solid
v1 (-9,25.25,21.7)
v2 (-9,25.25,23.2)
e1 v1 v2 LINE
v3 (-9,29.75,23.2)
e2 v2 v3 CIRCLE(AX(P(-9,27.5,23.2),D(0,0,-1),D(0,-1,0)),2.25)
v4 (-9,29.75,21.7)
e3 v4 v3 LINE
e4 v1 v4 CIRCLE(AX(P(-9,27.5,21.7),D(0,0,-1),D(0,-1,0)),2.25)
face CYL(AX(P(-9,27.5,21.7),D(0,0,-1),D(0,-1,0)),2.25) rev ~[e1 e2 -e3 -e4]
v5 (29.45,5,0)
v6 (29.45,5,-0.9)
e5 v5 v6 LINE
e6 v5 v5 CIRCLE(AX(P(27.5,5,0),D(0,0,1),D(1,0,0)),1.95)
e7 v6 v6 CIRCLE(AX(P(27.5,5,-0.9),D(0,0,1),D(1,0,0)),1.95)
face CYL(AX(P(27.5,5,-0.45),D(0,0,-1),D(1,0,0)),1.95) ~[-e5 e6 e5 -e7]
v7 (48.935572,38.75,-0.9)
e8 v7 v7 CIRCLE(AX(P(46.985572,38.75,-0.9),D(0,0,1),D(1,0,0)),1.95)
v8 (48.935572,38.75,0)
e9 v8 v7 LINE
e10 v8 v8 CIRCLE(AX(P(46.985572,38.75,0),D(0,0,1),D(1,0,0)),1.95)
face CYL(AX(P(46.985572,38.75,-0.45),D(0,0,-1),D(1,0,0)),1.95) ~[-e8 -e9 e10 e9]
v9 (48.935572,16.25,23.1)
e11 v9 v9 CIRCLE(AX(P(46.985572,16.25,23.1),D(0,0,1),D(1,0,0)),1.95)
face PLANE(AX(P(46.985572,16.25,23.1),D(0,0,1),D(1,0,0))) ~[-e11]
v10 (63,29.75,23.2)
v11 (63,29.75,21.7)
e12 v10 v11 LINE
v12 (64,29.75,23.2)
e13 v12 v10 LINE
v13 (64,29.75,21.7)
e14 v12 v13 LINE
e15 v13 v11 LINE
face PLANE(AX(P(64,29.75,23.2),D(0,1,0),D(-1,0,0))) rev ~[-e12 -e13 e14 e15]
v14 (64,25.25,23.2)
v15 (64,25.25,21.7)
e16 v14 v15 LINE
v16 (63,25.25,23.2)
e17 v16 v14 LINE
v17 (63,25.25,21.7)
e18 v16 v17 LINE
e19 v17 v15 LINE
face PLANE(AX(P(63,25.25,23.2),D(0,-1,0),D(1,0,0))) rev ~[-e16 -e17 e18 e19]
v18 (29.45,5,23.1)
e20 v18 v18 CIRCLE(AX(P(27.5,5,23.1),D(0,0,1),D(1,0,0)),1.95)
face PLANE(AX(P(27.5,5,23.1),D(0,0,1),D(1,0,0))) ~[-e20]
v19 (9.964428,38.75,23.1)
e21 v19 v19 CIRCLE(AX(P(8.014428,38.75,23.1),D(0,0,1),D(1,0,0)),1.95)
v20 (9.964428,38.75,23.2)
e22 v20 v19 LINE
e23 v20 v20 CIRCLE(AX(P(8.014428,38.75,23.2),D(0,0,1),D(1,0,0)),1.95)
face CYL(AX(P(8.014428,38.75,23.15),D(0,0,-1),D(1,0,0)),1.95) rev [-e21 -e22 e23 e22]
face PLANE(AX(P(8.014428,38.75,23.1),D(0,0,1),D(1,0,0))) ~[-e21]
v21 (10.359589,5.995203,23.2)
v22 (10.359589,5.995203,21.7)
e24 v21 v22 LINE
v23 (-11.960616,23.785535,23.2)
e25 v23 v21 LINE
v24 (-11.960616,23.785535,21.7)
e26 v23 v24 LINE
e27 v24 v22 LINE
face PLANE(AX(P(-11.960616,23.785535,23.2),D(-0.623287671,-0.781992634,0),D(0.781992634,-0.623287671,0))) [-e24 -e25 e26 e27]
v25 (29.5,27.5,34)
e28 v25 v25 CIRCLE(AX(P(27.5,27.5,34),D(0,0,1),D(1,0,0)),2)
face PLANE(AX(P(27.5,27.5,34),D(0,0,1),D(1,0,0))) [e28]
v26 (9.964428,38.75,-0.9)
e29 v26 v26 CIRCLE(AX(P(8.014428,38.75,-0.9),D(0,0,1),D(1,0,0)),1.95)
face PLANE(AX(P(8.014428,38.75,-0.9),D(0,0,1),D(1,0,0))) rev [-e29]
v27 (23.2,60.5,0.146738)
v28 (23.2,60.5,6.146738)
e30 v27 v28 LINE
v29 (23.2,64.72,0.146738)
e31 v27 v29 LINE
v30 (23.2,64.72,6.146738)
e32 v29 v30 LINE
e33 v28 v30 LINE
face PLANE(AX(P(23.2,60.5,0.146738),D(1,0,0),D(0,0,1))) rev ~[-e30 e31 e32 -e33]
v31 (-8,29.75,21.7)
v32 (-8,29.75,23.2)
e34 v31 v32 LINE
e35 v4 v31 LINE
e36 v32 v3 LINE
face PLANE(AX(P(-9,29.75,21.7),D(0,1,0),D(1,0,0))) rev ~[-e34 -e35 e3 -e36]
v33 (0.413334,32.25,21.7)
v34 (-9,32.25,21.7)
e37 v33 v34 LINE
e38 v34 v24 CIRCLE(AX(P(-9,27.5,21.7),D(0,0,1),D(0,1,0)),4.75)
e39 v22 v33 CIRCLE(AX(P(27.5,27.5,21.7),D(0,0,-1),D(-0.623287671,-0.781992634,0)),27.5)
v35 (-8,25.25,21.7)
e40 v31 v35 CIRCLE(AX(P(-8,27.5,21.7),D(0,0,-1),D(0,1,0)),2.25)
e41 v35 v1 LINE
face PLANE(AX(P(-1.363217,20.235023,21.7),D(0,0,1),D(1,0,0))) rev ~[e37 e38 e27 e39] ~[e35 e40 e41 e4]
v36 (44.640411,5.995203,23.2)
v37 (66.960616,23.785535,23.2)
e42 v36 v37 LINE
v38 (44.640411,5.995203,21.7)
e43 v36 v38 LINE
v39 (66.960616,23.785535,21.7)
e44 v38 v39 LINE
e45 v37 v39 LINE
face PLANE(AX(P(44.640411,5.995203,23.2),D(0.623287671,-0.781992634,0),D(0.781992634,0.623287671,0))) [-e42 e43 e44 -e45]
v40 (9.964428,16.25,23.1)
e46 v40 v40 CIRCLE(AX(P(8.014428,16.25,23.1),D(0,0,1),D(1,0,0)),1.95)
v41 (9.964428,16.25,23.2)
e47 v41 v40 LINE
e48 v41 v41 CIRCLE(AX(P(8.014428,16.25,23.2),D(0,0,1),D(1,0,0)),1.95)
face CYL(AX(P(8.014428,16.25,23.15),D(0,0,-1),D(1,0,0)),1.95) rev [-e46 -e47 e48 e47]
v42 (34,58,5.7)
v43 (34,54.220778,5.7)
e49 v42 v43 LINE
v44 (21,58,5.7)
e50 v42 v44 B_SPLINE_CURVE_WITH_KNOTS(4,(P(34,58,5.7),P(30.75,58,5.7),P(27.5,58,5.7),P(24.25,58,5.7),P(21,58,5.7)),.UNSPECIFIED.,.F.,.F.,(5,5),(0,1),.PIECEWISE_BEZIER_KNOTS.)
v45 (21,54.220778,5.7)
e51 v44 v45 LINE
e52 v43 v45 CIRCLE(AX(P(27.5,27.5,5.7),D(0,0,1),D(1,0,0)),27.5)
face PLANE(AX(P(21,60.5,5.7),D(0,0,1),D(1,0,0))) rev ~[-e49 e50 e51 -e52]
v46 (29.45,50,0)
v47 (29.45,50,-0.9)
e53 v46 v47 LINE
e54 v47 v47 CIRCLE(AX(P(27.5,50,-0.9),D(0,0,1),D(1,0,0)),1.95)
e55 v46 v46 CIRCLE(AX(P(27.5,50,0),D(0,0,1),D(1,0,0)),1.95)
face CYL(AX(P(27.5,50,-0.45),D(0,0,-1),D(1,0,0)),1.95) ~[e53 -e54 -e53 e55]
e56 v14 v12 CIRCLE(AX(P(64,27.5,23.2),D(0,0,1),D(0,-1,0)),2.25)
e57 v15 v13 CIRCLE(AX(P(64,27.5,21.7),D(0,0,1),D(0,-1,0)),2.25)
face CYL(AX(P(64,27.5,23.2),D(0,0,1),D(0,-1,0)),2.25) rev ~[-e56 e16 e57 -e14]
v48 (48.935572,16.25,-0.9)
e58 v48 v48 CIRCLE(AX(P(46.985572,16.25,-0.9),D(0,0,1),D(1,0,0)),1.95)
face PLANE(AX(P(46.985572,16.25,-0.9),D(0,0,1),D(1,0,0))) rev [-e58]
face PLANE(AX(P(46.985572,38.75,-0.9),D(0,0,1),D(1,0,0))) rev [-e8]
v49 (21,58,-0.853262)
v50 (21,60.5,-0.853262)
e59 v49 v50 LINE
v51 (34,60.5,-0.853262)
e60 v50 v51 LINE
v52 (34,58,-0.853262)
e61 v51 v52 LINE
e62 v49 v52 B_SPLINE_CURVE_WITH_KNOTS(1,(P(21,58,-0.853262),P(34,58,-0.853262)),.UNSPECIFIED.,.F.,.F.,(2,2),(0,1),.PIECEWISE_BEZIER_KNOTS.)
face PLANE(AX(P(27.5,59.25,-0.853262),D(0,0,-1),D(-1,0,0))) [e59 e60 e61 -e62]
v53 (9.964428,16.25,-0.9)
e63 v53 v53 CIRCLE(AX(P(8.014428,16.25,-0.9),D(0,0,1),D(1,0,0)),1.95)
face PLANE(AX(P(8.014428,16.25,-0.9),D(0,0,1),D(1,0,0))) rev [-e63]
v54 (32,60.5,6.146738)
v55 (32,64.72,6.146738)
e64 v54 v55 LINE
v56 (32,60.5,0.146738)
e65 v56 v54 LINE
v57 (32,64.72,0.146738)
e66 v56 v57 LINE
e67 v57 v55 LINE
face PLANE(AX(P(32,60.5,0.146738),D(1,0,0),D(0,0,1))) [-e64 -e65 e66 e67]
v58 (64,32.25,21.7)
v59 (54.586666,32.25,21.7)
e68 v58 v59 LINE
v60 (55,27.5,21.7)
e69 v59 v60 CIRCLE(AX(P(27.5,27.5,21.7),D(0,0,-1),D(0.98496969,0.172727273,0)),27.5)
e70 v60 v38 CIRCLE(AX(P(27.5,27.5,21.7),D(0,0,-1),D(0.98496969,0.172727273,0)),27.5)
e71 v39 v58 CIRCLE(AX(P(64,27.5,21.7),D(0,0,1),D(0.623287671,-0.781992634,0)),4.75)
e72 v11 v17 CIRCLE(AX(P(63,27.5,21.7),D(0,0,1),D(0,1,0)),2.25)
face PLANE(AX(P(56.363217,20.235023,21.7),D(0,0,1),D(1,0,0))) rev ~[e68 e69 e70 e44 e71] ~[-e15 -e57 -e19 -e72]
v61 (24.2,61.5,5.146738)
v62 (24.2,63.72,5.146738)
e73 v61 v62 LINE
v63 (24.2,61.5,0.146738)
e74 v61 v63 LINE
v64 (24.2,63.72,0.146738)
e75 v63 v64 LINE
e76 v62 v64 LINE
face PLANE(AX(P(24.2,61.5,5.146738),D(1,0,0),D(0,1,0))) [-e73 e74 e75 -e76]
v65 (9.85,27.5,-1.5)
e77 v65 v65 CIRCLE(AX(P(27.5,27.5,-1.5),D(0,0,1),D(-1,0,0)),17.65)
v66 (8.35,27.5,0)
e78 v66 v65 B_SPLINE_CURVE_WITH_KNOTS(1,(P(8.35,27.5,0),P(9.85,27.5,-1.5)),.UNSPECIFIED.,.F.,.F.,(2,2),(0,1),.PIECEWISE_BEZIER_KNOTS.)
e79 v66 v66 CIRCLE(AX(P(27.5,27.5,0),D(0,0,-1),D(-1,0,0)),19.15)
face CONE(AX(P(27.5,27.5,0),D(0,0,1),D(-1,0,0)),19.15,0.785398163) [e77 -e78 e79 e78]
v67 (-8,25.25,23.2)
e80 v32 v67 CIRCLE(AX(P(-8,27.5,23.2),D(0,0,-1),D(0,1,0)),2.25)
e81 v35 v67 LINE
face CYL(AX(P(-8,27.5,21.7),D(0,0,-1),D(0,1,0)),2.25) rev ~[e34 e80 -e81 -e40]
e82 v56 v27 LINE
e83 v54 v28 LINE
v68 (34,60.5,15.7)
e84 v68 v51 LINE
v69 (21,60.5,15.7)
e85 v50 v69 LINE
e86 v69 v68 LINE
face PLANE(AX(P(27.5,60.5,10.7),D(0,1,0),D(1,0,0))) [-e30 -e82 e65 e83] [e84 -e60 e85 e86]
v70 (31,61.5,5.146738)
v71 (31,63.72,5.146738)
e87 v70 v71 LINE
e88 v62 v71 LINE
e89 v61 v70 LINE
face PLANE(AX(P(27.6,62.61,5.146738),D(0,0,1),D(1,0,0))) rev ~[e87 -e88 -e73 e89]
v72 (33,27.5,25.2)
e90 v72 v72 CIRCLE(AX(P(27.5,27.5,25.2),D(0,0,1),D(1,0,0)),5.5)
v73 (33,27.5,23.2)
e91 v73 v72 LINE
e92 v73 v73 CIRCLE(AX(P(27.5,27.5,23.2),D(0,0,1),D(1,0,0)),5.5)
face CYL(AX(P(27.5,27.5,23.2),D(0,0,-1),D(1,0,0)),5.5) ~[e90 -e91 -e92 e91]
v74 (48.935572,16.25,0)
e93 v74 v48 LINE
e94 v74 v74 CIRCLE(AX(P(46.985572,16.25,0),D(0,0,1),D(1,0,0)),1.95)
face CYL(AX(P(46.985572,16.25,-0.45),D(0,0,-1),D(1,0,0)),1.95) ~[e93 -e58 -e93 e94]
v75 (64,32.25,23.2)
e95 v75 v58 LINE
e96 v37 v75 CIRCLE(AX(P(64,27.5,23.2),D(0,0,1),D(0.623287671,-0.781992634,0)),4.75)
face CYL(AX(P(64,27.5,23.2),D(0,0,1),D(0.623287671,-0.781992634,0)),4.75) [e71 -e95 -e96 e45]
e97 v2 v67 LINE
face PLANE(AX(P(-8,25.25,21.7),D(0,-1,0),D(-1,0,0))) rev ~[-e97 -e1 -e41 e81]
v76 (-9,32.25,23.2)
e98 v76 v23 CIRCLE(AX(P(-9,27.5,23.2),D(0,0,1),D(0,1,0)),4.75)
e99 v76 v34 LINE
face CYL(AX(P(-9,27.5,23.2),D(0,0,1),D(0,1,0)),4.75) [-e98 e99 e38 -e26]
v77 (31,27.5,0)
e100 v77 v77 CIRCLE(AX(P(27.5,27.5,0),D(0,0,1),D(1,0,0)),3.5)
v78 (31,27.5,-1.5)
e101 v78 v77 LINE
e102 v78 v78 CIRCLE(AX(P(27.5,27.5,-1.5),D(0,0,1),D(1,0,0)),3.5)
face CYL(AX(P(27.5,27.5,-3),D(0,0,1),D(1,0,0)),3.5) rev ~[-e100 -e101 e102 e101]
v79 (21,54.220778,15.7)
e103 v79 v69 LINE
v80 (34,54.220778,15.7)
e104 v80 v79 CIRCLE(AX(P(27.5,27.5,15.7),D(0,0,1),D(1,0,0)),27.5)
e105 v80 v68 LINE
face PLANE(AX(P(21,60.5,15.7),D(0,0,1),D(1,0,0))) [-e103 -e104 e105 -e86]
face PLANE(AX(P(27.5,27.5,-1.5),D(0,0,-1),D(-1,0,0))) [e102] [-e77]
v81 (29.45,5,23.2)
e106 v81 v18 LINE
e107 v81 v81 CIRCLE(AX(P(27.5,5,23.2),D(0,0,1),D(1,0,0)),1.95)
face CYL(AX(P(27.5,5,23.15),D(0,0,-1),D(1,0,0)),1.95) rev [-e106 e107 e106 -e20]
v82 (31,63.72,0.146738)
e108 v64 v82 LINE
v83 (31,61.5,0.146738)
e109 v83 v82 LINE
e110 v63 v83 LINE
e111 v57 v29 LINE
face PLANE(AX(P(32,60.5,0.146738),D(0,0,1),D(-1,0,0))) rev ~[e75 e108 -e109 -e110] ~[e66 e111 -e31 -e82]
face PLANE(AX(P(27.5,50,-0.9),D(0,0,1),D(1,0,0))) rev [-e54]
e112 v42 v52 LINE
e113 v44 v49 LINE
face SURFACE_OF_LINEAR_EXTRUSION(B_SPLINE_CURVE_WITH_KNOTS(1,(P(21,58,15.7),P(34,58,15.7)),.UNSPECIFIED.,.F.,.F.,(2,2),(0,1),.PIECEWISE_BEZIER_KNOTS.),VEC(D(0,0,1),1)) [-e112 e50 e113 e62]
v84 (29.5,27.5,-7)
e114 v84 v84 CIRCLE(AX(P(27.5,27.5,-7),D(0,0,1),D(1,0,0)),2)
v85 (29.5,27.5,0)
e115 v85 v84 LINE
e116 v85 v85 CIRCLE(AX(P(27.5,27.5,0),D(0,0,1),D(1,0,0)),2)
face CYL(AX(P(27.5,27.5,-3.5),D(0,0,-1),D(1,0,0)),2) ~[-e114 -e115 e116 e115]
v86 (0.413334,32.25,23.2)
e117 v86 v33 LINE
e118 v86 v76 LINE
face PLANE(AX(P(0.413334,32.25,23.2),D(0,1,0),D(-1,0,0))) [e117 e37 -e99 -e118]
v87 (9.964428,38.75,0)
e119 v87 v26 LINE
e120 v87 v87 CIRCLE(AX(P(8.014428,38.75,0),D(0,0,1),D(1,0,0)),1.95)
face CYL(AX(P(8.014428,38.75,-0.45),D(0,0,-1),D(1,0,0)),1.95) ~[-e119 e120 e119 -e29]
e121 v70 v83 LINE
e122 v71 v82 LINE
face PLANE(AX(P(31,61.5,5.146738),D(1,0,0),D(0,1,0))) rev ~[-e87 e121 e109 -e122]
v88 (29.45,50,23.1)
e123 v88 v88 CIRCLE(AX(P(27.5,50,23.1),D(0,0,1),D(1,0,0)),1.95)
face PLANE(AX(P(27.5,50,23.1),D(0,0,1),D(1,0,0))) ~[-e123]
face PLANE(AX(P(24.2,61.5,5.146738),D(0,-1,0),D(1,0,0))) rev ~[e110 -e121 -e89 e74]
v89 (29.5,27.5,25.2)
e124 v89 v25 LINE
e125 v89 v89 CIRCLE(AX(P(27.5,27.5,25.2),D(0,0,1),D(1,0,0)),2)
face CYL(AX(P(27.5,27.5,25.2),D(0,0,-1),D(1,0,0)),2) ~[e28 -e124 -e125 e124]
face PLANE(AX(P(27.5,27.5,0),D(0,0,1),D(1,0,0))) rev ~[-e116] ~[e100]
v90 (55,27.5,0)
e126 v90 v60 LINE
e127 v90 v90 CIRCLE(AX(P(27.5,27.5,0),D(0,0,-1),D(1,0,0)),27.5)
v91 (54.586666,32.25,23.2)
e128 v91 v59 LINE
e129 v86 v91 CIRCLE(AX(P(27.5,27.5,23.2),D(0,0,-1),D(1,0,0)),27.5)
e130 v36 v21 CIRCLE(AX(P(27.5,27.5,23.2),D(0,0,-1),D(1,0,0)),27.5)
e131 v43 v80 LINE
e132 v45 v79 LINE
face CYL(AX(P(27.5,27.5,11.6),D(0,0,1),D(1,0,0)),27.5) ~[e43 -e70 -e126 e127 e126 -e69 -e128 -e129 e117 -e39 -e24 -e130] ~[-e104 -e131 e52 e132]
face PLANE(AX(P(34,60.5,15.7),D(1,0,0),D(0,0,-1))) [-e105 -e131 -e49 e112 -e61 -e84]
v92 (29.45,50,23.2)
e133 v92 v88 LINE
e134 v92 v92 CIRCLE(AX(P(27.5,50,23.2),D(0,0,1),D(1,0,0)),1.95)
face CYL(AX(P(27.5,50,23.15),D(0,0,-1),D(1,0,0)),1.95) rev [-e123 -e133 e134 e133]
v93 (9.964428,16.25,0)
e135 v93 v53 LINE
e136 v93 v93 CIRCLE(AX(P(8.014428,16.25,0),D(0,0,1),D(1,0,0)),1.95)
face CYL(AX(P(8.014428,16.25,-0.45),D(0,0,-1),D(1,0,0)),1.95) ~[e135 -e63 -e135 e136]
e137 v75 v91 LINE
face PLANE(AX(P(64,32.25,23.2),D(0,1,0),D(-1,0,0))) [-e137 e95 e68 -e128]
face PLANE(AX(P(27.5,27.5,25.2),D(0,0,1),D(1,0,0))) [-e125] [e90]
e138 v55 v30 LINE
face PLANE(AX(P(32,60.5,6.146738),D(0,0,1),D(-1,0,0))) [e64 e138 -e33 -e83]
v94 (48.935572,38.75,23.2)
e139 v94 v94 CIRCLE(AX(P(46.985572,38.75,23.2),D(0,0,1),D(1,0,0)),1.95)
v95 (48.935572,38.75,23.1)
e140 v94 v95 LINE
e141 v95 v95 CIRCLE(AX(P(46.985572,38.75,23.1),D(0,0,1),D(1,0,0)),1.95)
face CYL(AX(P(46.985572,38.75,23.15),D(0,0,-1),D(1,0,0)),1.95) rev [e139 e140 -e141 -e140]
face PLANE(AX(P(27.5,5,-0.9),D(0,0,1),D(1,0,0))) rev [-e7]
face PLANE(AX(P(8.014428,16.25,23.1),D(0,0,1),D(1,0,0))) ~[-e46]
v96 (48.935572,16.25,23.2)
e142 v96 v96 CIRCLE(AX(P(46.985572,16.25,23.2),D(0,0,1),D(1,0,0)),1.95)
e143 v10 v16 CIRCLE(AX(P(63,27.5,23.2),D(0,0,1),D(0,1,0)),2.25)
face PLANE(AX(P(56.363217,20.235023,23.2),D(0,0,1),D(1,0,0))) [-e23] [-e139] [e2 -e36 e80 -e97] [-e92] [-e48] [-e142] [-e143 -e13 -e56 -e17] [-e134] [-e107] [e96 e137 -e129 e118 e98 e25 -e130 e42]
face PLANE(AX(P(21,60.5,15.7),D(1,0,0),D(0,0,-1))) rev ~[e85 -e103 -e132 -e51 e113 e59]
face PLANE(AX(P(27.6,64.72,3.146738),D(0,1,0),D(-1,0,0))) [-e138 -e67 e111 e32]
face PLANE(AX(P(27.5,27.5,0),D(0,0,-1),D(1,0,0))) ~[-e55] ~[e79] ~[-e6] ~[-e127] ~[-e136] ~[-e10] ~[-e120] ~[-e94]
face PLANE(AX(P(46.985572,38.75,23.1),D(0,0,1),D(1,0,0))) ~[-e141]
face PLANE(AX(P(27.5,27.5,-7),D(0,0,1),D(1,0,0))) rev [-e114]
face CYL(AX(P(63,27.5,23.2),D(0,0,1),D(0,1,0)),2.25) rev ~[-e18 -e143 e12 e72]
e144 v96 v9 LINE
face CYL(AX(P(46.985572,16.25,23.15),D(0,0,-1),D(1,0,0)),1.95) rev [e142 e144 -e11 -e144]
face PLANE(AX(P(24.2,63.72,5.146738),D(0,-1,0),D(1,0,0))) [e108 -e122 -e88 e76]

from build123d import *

# Parameters (mm, degrees)
SKETCH1_W                    = 27.5
SKETCH1_H                    = 23.2
BOSS_EXTRUDE1_REACH          = 62.5
SKETCH2_W                    = 13
SKETCH2_H                    = 10
BOSS_EXTRUDE2_DEPTH          = 16.55326241
BOSS_EXTRUDE3_DEPTH          = 1.5
BOSS_EXTRUDE4_DEPTH          = 1.5
CUT_EXTRUDE1_DEPTH           = 25.05326251
CUT_EXTRUDE2_DEPTH           = 2.5
SKETCH8_R                    = 5.5
BOSS_EXTRUDE5_DEPTH          = 2
SKETCH9_R                    = 2
BOSS_EXTRUDE6_DEPTH          = 8.8
SKETCH10_W                   = 8.8
SKETCH10_H                   = 6
BOSS_EXTRUDE7_DEPTH          = 4.22
CUT_EXTRUDE3_START           = -1
SKETCH11_W                   = 6.8
SKETCH11_H                   = 2.22
CUT_EXTRUDE3_DEPTH           = 5
SKETCH12_R                   = 19.15
BOSS_EXTRUDE8_DEPTH          = 1.5
BOSS_EXTRUDE8_TAPER          = 45
F_7_0_7_DIAMETER_HOLE1_D     = 7
F_7_0_7_DIAMETER_HOLE1_DEPTH = 1.5
SKETCH15_W                   = 1.95
SKETCH15_H                   = 0.1
SKETCH16_W                   = 1.95
SKETCH16_H                   = 0.1
SKETCH17_W                   = 1.95
SKETCH17_H                   = 0.1
SKETCH18_W                   = 1.95
SKETCH18_H                   = 0.1
SKETCH19_W                   = 1.95
SKETCH19_H                   = 0.1
SKETCH20_W                   = 1.95
SKETCH20_H                   = 0.1
SKETCH21_W                   = 2
SKETCH21_H                   = 7
SKETCH22_W                   = 1.95
SKETCH22_H                   = 0.9
SKETCH23_W                   = 1.95
SKETCH23_H                   = 0.9
SKETCH24_W                   = 1.95
SKETCH24_H                   = 0.9
SKETCH25_W                   = 1.95
SKETCH25_H                   = 0.9
SKETCH26_W                   = 1.95
SKETCH26_H                   = 0.9
SKETCH27_W                   = 1.95
SKETCH27_H                   = 0.9


with BuildPart() as part:
    # Sketch1 → Revolve1 (revolve)
    with BuildSketch(Plane.XZ.offset(-27.5)):
        with Locations((41.25, 11.6)):
            Rectangle(SKETCH1_W, SKETCH1_H)
    revolve(axis=Axis((27.5, 27.5, 23.2), (0, 0, -1)))

    # Sketch2 → Boss-Extrude1 (add, up to next)
    with BuildSketch(Plane(origin=(0, 60.5, 0), x_dir=(1, 0, 0), z_dir=(0, 1, 0)), mode=Mode.PRIVATE) as boss_extrude1_sk1:
        with Locations((27.5, -10.7)):
            Rectangle(SKETCH2_W, SKETCH2_H)
    boss_extrude1_tool1 = extrude(boss_extrude1_sk1.sketch, amount=-BOSS_EXTRUDE1_REACH, mode=Mode.PRIVATE) - part.part
    add(boss_extrude1_tool1.solids().sort_by_distance((27.5, 60.5, 10.7))[0])

    # Sketch3 → Boss-Extrude2 (add)
    with BuildSketch(Plane.XY.offset(15.7)):
        with BuildLine():
            Line((34, 60.5), (34, 58))
            add(Edge.make_bspline(
                [(21, 58), (34, 58)],
                knots=[0, 0, 1, 1], degree=1))
            Line((21, 58), (21, 60.5))
            Line((21, 60.5), (34, 60.5))
        make_face()
    extrude(amount=-BOSS_EXTRUDE2_DEPTH)

    # Sketch4 → Boss-Extrude3 (add)
    with BuildSketch(Plane.XY.offset(23.2)):
        with BuildLine():
            Line((64, 32.25), (54.586666462, 32.25))
            ThreePointArc((54.586666462, 32.25), (53.216477037, 17.757679496), (44.640410959, 5.995202578))
            Line((44.640410959, 5.995202578), (66.960616438, 23.785534991))
            ThreePointArc((66.960616438, 23.785534991), (68.483648559, 29.068246028), (64, 32.25))
        make_face()
    extrude(amount=-BOSS_EXTRUDE3_DEPTH)

    # Sketch5 → Boss-Extrude4 (add)
    with BuildSketch(Plane.XY.offset(23.2)):
        with BuildLine():
            Line((-11.960616438, 23.785534991), (10.359589041, 5.995202578))
            ThreePointArc((10.359589041, 5.995202578), (1.783522963, 17.757679496), (0.413333538, 32.25))
            Line((0.413333538, 32.25), (-9, 32.25))
            ThreePointArc((-9, 32.25), (-13.483648559, 29.068246028), (-11.960616438, 23.785534991))
        make_face()
    extrude(amount=-BOSS_EXTRUDE4_DEPTH)

    # Sketch6 → Cut-Extrude1 (cut, through all)
    with BuildSketch(Plane.XY.offset(23.2)):
        with BuildLine():
            Line((63, 25.25), (64, 25.25))
            ThreePointArc((64, 25.25), (66.25, 27.5), (64, 29.75))
            Line((64, 29.75), (63, 29.75))
            ThreePointArc((63, 29.75), (60.75, 27.5), (63, 25.25))
        make_face()
    extrude(amount=-CUT_EXTRUDE1_DEPTH, mode=Mode.SUBTRACT)

    # Sketch7 → Cut-Extrude2 (cut, through all)
    with BuildSketch(Plane(origin=(0, 0, 21.7), x_dir=(-1, 0, 0), z_dir=(0, 0, -1))):
        with BuildLine():
            Line((8, 25.25), (9, 25.25))
            ThreePointArc((9, 25.25), (11.25, 27.5), (9, 29.75))
            Line((9, 29.75), (8, 29.75))
            ThreePointArc((8, 29.75), (5.75, 27.5), (8, 25.25))
        make_face()
    extrude(amount=-CUT_EXTRUDE2_DEPTH, mode=Mode.SUBTRACT)

    # Sketch8 → Boss-Extrude5 (add)
    with BuildSketch(Plane.XY.offset(23.2)):
        with Locations((27.5, 27.5)):
            Circle(SKETCH8_R)
    extrude(amount=BOSS_EXTRUDE5_DEPTH)

    # Sketch9 → Boss-Extrude6 (add)
    with BuildSketch(Plane.XY.offset(25.2)):
        with Locations((27.5, 27.5)):
            Circle(SKETCH9_R)
    extrude(amount=BOSS_EXTRUDE6_DEPTH)

    # Sketch10 → Boss-Extrude7 (add)
    with BuildSketch(Plane(origin=(0, 60.5, 0), x_dir=(-1, 0, 0), z_dir=(0, 1, 0))):
        with Locations((-27.6, 3.14673759)):
            Rectangle(SKETCH10_W, SKETCH10_H)
    extrude(amount=BOSS_EXTRUDE7_DEPTH)

    # Sketch11 → Cut-Extrude3 (cut)
    with BuildSketch(Plane.XY.offset(6.14673759).offset(CUT_EXTRUDE3_START)):
        with Locations((27.6, 62.61)):
            Rectangle(SKETCH11_W, SKETCH11_H)
    extrude(amount=-CUT_EXTRUDE3_DEPTH, mode=Mode.SUBTRACT)

    # Sketch12 → Boss-Extrude8 (add)
    with BuildSketch(Plane(origin=(0, 0, 0), x_dir=(-1, 0, 0), z_dir=(0, 0, -1))):
        with Locations((-27.5, 27.5)):
            Circle(SKETCH12_R)
    extrude(amount=BOSS_EXTRUDE8_DEPTH, taper=BOSS_EXTRUDE8_TAPER)

    # Ø7.0 (7) Diameter Hole1
    with Locations(Plane(origin=(0, 0, -1.5), x_dir=(-1, 0, 0), z_dir=(0, 0, -1))):
        with Locations((-27.5, 27.5)):
            Hole(F_7_0_7_DIAMETER_HOLE1_D / 2, depth=F_7_0_7_DIAMETER_HOLE1_DEPTH)

    # Sketch15 → Cut-Revolve1 (revolve, cut)
    with BuildSketch(Plane(origin=(0, 16.25, 0), x_dir=(1, 0, 0), z_dir=(0, 1, 0))):
        with Locations((8.989428415, -23.15)):
            Rectangle(SKETCH15_W, SKETCH15_H)
    revolve(axis=Axis((8.014428415, 16.25, 23.1), (0, 0, 1)), mode=Mode.SUBTRACT)

    # Sketch16 → Cut-Revolve2 (revolve, cut)
    with BuildSketch(Plane(origin=(0, 5, 0), x_dir=(1, 0, 0), z_dir=(0, 1, 0))):
        with Locations((28.475, -23.15)):
            Rectangle(SKETCH16_W, SKETCH16_H)
    revolve(axis=Axis((27.5, 5, 23.1), (0, 0, 1)), mode=Mode.SUBTRACT)

    # Sketch17 → Cut-Revolve3 (revolve, cut)
    with BuildSketch(Plane(origin=(0, 16.25, 0), x_dir=(1, 0, 0), z_dir=(0, 1, 0))):
        with Locations((47.960571585, -23.15)):
            Rectangle(SKETCH17_W, SKETCH17_H)
    revolve(axis=Axis((46.985571585, 16.25, 23.1), (0, 0, 1)), mode=Mode.SUBTRACT)

    # Sketch18 → Cut-Revolve4 (revolve, cut)
    with BuildSketch(Plane(origin=(0, 38.75, 0), x_dir=(1, 0, 0), z_dir=(0, 1, 0))):
        with Locations((47.960571585, -23.15)):
            Rectangle(SKETCH18_W, SKETCH18_H)
    revolve(axis=Axis((46.985571585, 38.75, 23.1), (0, 0, 1)), mode=Mode.SUBTRACT)

    # Sketch19 → Cut-Revolve5 (revolve, cut)
    with BuildSketch(Plane(origin=(0, 50, 0), x_dir=(1, 0, 0), z_dir=(0, 1, 0))):
        with Locations((28.475, -23.15)):
            Rectangle(SKETCH19_W, SKETCH19_H)
    revolve(axis=Axis((27.5, 50, 23.1), (0, 0, 1)), mode=Mode.SUBTRACT)

    # Sketch20 → Cut-Revolve6 (revolve, cut)
    with BuildSketch(Plane(origin=(0, 38.75, 0), x_dir=(1, 0, 0), z_dir=(0, 1, 0))):
        with Locations((8.989428415, -23.15)):
            Rectangle(SKETCH20_W, SKETCH20_H)
    revolve(axis=Axis((8.014428415, 38.75, 23.1), (0, 0, 1)), mode=Mode.SUBTRACT)

    # Sketch21 → Revolve2 (revolve)
    with BuildSketch(Plane(origin=(0, 27.5, 0), x_dir=(1, 0, 0), z_dir=(0, 1, 0))):
        with Locations((28.5, 3.5)):
            Rectangle(SKETCH21_W, SKETCH21_H)
    revolve(axis=Axis((27.5, 27.5, -7), (0, 0, 1)))

    # Sketch22 → Revolve3 (revolve)
    with BuildSketch(Plane(origin=(0, 16.25, 0), x_dir=(1, 0, 0), z_dir=(0, 1, 0))):
        with Locations((47.960571585, 0.45)):
            Rectangle(SKETCH22_W, SKETCH22_H)
    revolve(axis=Axis((46.985571585, 16.25, -0.9), (0, 0, 1)))

    # Sketch23 → Revolve4 (revolve)
    with BuildSketch(Plane(origin=(0, 5, 0), x_dir=(1, 0, 0), z_dir=(0, 1, 0))):
        with Locations((28.475, 0.45)):
            Rectangle(SKETCH23_W, SKETCH23_H)
    revolve(axis=Axis((27.5, 5, -0.9), (0, 0, 1)))

    # Sketch24 → Revolve5 (revolve)
    with BuildSketch(Plane(origin=(0, 16.25, 0), x_dir=(1, 0, 0), z_dir=(0, 1, 0))):
        with Locations((8.989428415, 0.45)):
            Rectangle(SKETCH24_W, SKETCH24_H)
    revolve(axis=Axis((8.014428415, 16.25, -0.9), (0, 0, 1)))

    # Sketch25 → Revolve6 (revolve)
    with BuildSketch(Plane(origin=(0, 38.75, 0), x_dir=(1, 0, 0), z_dir=(0, 1, 0))):
        with Locations((8.989428415, 0.45)):
            Rectangle(SKETCH25_W, SKETCH25_H)
    revolve(axis=Axis((8.014428415, 38.75, -0.9), (0, 0, 1)))

    # Sketch26 → Revolve7 (revolve)
    with BuildSketch(Plane(origin=(0, 50, 0), x_dir=(1, 0, 0), z_dir=(0, 1, 0))):
        with Locations((28.475, 0.45)):
            Rectangle(SKETCH26_W, SKETCH26_H)
    revolve(axis=Axis((27.5, 50, -0.9), (0, 0, 1)))

    # Sketch27 → Revolve8 (revolve)
    with BuildSketch(Plane(origin=(0, 38.75, 0), x_dir=(1, 0, 0), z_dir=(0, 1, 0))):
        with Locations((47.960571585, 0.45)):
            Rectangle(SKETCH27_W, SKETCH27_H)
    revolve(axis=Axis((46.985571585, 38.75, -0.9), (0, 0, 1)))


solid = part.part
